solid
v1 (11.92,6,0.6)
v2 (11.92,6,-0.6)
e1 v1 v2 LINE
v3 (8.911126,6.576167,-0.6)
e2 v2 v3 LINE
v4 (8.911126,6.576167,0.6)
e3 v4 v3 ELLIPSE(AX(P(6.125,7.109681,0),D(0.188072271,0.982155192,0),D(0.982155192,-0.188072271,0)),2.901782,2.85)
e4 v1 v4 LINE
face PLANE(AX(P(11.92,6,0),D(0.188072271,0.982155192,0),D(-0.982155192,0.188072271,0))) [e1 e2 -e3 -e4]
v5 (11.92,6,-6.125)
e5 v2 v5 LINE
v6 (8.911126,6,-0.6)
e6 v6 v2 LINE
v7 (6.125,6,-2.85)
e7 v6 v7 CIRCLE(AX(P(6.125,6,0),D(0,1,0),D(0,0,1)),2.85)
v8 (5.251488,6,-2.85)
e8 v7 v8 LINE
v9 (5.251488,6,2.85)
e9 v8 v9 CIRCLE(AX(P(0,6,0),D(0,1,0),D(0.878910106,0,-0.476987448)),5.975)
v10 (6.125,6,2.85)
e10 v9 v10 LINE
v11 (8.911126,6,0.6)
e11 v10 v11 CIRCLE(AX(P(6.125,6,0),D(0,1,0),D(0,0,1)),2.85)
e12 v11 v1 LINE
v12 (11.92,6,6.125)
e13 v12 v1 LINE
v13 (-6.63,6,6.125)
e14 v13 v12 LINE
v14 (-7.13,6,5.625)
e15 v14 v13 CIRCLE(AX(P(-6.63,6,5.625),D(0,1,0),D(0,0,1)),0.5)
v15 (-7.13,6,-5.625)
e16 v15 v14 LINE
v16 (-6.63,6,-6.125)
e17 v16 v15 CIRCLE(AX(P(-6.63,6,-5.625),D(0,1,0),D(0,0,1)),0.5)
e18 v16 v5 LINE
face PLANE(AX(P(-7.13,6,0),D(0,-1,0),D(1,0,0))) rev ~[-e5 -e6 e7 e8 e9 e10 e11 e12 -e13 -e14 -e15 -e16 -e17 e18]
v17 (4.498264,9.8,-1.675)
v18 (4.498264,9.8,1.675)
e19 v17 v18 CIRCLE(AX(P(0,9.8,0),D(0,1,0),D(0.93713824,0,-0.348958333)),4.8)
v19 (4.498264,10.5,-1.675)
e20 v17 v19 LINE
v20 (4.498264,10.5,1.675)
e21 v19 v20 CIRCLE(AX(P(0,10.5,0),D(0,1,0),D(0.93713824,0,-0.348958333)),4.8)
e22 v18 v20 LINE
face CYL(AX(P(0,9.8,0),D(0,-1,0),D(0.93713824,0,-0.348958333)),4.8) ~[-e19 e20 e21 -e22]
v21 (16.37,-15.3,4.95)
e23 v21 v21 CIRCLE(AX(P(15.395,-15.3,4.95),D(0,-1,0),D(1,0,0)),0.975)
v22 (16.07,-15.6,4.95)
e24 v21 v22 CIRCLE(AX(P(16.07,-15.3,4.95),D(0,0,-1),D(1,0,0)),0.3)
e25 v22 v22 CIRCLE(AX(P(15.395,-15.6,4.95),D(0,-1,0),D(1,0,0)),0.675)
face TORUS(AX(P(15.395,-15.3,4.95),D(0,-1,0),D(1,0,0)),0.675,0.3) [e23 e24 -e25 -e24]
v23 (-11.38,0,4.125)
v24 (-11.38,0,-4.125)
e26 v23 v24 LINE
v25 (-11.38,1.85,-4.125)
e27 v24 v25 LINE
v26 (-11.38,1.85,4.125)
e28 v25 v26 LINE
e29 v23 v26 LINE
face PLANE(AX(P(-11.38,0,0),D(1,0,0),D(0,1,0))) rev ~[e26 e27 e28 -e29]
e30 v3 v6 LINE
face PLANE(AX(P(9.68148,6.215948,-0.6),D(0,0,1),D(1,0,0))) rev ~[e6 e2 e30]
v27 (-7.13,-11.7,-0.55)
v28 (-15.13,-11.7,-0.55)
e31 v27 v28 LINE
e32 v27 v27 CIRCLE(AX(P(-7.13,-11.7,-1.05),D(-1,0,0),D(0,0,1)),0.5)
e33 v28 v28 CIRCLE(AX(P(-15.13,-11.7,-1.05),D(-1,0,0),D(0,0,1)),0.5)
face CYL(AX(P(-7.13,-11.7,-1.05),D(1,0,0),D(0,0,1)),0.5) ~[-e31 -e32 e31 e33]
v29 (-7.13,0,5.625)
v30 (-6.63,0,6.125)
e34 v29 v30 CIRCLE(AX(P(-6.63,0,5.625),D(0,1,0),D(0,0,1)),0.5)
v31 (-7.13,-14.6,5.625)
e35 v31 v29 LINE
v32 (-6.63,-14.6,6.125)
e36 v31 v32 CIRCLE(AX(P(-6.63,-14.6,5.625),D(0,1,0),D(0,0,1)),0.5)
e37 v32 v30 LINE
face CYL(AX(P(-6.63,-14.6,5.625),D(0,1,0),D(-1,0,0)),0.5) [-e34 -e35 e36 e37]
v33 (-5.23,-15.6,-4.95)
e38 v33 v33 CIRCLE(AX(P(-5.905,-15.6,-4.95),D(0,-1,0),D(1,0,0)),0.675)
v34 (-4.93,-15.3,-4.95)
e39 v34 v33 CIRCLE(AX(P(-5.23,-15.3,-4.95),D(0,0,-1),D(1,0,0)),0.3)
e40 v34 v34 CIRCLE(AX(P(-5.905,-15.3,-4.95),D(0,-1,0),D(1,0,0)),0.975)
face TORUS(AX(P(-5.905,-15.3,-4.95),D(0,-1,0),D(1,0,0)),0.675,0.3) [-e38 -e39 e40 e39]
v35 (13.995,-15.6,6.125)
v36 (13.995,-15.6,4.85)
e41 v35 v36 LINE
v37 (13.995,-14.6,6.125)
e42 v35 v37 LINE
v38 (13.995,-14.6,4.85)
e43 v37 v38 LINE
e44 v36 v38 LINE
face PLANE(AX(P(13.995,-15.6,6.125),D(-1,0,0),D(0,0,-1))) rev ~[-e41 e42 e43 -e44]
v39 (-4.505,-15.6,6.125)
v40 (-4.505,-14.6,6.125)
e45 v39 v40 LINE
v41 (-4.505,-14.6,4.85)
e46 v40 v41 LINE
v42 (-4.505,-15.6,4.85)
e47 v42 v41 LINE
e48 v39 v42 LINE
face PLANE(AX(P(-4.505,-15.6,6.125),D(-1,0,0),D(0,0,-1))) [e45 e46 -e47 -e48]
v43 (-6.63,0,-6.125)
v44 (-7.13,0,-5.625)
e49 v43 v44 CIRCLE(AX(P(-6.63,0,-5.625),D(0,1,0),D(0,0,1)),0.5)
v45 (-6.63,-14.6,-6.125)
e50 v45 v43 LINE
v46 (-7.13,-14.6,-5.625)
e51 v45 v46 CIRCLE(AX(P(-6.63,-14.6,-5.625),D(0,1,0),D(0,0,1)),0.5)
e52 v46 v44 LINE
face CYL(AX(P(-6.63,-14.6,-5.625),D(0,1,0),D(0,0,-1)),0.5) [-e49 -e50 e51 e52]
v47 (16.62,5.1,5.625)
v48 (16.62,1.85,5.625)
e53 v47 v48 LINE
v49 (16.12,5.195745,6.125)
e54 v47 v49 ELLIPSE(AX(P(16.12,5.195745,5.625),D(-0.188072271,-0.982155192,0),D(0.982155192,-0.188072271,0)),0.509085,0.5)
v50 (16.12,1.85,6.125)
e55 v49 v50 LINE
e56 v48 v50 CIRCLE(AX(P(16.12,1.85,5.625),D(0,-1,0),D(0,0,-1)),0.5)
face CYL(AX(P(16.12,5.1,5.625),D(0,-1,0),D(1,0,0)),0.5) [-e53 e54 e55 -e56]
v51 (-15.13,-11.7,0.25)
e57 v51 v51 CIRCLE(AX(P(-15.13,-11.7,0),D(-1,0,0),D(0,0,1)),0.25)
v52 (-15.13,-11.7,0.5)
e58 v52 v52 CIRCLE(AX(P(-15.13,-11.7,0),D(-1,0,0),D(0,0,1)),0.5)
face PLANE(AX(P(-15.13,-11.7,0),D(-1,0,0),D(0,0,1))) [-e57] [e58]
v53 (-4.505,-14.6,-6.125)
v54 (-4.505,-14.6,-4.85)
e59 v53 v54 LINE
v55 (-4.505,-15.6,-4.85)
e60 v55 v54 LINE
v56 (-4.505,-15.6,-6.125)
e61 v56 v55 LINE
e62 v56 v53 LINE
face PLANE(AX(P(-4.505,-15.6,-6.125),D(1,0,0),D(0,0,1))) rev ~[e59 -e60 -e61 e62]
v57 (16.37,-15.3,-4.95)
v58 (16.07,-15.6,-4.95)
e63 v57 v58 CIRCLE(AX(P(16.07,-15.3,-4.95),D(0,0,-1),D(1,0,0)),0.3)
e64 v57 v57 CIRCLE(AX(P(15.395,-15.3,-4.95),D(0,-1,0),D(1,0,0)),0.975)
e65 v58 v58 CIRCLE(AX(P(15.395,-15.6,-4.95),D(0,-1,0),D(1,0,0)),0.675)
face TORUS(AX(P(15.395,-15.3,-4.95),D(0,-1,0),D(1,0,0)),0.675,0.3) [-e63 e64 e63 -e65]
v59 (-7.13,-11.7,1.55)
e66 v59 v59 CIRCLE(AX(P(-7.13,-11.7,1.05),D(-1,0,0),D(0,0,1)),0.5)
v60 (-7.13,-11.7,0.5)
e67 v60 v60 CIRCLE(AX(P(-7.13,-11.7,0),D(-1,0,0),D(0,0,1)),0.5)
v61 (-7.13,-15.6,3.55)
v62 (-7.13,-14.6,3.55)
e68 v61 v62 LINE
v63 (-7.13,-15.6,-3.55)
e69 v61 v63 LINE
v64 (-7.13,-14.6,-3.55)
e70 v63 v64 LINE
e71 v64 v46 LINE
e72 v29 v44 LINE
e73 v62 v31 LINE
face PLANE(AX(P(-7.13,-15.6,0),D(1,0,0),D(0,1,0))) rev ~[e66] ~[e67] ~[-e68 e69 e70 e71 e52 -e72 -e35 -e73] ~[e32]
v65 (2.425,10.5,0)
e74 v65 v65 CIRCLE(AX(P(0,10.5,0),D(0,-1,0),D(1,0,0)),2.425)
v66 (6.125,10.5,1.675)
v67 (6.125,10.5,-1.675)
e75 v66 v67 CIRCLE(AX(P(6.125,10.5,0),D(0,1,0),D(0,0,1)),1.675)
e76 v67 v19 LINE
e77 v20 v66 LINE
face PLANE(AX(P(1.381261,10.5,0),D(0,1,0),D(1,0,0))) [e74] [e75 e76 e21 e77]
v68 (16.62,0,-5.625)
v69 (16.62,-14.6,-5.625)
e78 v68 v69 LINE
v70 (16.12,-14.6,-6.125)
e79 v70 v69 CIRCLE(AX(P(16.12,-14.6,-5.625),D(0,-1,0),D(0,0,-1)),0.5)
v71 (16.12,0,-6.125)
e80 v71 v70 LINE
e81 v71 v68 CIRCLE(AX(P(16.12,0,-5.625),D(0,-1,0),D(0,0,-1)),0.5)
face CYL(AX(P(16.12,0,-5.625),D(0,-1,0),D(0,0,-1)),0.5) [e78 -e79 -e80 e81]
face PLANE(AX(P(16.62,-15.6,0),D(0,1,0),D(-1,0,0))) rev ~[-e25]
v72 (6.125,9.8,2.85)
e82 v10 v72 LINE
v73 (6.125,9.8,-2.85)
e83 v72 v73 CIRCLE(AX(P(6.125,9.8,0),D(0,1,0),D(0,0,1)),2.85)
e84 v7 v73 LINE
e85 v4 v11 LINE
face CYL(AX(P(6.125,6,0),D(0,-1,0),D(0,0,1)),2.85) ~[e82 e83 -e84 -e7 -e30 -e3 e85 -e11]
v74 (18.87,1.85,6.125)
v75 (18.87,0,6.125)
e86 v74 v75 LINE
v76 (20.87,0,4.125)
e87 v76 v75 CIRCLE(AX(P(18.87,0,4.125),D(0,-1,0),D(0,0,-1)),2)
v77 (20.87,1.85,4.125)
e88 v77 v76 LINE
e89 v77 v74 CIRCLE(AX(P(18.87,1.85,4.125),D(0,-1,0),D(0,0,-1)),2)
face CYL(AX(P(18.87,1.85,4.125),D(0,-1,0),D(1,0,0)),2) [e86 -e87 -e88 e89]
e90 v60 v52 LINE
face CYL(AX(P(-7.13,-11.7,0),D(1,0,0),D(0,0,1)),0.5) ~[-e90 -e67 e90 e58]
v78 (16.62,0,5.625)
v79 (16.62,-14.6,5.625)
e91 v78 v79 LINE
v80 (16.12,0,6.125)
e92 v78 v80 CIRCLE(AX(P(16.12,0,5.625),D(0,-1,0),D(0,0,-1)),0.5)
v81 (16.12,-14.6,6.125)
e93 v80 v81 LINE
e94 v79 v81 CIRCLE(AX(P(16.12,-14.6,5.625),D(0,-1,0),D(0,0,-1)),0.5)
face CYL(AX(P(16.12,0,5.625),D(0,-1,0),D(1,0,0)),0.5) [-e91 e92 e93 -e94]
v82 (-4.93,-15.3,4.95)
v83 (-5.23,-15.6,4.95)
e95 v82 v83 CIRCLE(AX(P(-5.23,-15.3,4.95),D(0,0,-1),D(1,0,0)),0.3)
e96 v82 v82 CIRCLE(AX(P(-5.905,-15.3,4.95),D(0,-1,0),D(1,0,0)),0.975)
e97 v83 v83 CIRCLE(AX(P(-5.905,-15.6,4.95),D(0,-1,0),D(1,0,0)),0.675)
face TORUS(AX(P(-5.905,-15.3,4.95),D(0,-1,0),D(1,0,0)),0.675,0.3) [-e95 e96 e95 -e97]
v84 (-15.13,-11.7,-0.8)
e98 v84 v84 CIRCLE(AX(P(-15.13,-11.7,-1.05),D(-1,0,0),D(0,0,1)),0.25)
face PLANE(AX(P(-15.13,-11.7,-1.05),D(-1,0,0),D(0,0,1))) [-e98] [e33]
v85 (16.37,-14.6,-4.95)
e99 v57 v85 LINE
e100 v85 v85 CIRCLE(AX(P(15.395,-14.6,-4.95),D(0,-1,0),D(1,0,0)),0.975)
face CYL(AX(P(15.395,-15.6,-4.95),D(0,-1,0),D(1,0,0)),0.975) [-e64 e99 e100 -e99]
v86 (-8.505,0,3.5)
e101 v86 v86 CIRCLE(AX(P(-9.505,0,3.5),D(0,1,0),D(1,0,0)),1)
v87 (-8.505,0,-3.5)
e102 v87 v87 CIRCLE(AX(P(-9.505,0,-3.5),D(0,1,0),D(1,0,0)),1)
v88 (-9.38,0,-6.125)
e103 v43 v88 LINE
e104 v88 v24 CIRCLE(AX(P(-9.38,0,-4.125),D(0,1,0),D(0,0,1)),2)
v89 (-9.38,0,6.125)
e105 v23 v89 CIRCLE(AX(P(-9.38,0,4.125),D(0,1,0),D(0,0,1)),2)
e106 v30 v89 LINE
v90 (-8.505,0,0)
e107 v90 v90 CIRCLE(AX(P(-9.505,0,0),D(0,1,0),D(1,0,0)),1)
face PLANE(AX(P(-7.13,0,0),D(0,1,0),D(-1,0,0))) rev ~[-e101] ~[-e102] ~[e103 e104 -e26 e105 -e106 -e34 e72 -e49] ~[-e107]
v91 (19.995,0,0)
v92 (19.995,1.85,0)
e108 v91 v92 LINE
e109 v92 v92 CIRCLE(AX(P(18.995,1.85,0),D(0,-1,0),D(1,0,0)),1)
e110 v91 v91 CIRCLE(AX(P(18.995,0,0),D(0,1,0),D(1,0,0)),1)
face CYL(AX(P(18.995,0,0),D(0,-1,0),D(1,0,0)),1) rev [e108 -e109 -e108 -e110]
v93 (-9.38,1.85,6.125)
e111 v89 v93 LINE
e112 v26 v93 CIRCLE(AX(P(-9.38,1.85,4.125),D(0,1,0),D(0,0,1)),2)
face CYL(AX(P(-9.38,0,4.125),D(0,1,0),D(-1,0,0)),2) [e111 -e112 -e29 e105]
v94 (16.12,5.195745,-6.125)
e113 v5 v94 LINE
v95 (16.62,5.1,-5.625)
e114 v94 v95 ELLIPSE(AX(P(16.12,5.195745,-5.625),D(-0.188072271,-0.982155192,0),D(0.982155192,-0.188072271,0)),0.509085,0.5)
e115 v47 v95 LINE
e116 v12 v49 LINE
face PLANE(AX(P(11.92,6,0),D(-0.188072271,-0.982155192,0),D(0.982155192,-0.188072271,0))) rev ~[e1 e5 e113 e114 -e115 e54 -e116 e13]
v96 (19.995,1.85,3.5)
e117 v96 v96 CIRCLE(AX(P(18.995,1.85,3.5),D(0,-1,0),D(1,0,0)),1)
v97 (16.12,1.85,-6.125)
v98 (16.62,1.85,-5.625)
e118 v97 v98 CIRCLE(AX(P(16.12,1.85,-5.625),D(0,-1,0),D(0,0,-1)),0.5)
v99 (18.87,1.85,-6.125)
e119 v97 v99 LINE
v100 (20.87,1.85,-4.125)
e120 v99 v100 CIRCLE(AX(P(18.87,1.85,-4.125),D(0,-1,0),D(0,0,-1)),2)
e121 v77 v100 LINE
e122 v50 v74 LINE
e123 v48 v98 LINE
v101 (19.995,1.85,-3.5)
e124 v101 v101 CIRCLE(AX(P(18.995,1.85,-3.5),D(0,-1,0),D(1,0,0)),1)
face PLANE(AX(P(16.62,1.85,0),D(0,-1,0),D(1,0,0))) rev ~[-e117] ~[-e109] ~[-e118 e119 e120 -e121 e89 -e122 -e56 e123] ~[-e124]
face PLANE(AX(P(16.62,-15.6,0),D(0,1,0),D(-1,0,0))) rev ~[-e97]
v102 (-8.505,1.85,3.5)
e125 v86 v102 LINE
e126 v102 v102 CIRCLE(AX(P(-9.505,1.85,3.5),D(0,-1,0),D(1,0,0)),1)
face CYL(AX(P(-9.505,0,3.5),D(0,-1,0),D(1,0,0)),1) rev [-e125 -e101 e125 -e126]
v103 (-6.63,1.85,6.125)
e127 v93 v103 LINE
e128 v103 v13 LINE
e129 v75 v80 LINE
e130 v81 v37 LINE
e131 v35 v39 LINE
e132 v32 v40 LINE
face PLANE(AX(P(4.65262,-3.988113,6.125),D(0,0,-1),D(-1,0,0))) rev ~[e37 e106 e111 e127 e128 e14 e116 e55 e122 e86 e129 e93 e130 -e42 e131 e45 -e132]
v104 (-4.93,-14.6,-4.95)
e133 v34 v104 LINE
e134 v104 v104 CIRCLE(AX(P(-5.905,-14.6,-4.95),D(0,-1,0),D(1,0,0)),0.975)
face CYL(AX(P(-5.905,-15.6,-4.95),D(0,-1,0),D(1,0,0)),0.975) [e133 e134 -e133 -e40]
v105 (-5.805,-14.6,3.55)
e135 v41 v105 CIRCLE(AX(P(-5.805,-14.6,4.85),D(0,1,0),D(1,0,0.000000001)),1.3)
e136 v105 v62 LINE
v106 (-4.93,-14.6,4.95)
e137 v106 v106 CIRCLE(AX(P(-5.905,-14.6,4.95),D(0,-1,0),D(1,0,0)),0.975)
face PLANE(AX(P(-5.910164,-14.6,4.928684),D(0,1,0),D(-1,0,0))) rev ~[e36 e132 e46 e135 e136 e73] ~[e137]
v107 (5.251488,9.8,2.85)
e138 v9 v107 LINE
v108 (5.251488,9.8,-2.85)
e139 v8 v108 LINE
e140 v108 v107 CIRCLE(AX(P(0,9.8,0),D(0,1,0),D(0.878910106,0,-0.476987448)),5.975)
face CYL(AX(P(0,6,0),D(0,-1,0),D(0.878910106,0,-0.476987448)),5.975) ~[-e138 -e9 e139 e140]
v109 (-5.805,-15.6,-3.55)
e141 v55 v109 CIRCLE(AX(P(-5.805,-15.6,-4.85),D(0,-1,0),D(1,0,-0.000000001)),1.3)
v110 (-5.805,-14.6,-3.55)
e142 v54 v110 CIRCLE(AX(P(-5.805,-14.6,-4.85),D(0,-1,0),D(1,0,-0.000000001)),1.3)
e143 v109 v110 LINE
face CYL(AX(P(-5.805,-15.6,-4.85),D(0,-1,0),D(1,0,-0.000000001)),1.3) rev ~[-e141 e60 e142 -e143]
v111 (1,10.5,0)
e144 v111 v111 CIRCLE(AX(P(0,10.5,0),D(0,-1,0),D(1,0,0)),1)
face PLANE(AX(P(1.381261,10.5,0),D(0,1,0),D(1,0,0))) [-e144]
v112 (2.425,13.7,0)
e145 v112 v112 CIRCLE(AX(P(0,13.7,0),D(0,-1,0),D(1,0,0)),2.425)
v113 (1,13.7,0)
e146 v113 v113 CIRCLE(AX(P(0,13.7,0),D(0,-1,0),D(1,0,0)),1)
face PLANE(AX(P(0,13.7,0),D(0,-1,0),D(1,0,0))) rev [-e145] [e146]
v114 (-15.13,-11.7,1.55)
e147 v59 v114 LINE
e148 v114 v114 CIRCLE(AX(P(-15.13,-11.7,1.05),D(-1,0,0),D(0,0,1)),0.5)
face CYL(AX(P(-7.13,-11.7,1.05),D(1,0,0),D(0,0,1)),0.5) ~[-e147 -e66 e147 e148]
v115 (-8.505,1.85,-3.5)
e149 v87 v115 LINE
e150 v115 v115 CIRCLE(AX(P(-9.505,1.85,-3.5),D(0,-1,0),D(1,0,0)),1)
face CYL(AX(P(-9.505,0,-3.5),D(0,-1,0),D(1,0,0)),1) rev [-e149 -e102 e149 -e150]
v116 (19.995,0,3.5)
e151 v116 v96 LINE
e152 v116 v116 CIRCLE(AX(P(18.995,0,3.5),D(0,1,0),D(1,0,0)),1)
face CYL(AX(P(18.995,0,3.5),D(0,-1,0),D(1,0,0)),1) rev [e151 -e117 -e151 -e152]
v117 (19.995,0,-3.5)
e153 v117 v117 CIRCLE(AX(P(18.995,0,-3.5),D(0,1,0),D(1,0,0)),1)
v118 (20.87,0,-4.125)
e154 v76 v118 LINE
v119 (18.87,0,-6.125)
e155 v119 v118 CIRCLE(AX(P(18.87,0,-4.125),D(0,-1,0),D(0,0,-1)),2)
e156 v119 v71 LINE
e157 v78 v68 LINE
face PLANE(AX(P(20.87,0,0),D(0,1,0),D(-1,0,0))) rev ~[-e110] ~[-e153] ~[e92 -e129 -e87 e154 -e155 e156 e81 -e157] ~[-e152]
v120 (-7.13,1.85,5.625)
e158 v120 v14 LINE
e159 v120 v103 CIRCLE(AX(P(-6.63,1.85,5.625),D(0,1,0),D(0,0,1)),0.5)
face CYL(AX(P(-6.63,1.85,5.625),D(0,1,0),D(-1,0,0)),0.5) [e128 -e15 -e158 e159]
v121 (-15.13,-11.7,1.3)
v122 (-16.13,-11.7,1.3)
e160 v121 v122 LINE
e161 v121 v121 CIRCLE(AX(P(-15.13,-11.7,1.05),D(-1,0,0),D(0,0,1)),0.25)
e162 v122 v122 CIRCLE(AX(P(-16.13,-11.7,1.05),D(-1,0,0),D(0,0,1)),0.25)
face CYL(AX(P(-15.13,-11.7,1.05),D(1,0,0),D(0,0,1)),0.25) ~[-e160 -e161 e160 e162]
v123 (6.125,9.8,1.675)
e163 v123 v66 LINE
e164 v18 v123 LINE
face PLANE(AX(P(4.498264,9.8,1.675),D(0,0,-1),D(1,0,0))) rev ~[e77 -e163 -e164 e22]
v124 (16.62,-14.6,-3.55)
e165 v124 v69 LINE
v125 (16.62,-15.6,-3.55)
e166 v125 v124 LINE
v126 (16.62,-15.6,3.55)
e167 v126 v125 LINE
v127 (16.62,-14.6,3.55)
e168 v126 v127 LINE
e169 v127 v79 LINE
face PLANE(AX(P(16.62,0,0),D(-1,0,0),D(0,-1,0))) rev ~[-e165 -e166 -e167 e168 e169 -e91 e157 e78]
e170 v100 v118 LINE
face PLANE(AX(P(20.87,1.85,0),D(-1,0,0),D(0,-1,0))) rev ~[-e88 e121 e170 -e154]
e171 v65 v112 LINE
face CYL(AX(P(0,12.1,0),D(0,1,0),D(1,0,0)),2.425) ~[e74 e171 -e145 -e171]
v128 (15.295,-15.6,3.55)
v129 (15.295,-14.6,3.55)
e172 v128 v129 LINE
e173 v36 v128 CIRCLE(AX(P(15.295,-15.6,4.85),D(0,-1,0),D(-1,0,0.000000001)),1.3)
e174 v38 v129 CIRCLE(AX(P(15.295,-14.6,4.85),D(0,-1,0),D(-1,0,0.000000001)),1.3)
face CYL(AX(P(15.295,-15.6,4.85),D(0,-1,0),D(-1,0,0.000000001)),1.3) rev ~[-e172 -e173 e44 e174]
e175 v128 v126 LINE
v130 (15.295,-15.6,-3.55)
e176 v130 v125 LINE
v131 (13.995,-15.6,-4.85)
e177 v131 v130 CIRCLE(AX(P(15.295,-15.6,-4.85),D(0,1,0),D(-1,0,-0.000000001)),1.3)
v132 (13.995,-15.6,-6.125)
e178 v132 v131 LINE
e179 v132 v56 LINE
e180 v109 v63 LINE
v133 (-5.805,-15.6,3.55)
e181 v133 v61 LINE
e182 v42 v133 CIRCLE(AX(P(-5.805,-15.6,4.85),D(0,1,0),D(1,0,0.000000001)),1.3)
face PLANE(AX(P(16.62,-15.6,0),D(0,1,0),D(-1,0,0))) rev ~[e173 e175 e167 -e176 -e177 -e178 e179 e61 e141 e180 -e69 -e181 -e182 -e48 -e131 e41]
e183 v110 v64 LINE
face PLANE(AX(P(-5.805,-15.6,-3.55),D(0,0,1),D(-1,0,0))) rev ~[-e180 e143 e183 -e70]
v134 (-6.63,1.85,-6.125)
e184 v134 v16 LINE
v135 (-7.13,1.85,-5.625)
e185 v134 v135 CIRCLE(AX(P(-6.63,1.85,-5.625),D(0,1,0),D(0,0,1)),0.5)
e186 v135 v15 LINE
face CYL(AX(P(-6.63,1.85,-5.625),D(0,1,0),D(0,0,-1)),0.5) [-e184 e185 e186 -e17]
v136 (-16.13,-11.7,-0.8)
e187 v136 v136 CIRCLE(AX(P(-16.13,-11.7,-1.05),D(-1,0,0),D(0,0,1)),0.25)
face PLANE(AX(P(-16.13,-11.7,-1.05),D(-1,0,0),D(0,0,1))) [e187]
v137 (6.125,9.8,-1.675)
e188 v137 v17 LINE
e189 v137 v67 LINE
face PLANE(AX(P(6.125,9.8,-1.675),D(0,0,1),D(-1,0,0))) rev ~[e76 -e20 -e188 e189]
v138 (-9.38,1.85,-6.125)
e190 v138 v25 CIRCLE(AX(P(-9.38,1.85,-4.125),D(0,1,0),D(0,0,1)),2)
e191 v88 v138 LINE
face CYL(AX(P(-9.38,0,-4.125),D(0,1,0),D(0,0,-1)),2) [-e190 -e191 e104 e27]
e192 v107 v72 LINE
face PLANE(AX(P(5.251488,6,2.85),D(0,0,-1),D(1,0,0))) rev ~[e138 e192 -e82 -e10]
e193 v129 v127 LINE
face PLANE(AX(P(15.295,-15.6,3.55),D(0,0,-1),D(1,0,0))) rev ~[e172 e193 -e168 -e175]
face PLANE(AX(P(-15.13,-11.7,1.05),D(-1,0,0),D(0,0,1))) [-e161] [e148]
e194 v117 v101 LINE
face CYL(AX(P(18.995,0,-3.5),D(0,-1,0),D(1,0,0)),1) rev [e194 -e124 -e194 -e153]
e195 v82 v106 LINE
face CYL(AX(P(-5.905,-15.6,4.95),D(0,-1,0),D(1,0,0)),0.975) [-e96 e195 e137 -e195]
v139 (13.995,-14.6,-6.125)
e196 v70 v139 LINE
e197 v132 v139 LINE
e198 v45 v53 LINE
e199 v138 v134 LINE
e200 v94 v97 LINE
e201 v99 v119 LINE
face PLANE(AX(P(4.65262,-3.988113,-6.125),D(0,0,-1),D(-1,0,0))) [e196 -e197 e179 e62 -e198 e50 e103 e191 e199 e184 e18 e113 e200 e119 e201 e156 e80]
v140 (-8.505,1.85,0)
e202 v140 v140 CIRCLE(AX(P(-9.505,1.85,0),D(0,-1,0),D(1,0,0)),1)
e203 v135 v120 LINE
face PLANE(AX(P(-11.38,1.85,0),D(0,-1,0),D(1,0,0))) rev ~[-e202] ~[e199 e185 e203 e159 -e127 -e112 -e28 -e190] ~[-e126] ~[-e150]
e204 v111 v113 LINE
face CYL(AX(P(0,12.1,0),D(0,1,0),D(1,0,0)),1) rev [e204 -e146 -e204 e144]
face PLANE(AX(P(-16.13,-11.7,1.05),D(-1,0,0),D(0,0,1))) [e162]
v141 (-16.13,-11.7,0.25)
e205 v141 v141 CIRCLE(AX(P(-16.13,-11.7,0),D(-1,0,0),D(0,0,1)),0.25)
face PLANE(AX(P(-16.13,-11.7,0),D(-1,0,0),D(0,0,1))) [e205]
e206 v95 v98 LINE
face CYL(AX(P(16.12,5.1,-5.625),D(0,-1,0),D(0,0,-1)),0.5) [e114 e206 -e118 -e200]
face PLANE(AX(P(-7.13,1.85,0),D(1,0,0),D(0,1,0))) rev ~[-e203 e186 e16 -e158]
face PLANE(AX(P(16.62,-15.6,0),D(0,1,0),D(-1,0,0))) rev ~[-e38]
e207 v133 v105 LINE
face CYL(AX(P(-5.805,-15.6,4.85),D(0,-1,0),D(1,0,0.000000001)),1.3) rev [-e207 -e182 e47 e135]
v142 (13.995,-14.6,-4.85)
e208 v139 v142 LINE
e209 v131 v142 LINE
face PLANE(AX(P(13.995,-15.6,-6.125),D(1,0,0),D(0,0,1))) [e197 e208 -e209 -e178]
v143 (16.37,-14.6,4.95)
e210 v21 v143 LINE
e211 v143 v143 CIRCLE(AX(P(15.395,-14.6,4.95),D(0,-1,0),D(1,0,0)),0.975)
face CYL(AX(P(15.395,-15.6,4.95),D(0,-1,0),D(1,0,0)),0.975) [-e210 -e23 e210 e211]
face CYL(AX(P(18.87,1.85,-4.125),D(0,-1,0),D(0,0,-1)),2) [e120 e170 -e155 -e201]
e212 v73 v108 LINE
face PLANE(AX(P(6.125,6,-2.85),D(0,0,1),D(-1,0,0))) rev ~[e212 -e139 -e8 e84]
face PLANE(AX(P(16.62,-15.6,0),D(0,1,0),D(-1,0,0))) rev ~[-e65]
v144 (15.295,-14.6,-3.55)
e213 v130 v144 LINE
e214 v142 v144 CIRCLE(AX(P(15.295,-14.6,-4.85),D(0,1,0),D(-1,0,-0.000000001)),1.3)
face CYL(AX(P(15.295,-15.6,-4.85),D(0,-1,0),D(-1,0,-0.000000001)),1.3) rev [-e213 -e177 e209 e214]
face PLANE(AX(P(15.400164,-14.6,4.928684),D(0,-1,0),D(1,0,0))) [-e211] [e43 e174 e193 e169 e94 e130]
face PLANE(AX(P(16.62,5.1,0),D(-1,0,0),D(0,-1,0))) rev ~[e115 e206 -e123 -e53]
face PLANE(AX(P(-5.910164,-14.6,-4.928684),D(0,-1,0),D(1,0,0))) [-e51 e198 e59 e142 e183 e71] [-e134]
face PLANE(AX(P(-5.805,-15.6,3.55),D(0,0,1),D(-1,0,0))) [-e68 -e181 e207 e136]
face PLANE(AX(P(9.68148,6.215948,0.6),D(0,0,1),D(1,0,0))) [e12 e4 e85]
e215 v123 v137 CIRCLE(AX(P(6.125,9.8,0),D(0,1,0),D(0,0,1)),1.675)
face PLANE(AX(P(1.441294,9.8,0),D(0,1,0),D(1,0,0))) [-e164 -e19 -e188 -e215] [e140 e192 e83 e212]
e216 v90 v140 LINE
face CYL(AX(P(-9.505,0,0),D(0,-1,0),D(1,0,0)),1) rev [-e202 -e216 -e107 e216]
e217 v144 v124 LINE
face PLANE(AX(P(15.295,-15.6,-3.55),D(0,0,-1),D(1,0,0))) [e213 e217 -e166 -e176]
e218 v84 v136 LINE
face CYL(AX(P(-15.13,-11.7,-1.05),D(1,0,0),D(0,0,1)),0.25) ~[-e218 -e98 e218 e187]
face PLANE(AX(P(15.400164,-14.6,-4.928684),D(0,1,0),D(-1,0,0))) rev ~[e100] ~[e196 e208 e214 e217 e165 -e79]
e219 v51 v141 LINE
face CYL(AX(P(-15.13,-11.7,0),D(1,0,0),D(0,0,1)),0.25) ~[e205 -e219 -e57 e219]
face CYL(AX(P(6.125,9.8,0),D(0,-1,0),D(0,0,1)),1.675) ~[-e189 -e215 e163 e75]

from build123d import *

# Parameters (mm, degrees)
BOSS_EXTRUDE1_DEPTH = 6.125
BOSS_EXTRUDE2_DEPTH = 3.8
BOSS_EXTRUDE3_DEPTH = 0.7
SKETCH4_R           = 1
CUT_EXTRUDE1_DEPTH  = 27.766257209
SKETCH5_R           = 0.975
CUT_EXTRUDE2_DEPTH  = 1
SKETCH6_R           = 0.5
BOSS_EXTRUDE4_DEPTH = 8
SKETCH7_R           = 0.25
BOSS_EXTRUDE5_DEPTH = 1
BOSS_EXTRUDE6_DEPTH = 0.6
SKETCH9_W           = 1.425
SKETCH9_H           = 3.2
FILLET1_R           = 0.3
FILLET2_R           = 2
FILLET3_R           = 0.5


with BuildPart() as part:
    # Sketch1 → Boss-Extrude1 (new, symmetric)
    with BuildSketch(Plane.XY):
        Polygon((-7.13, 6), (11.92, 6), (16.62, 5.1), (16.62, 1.85), (20.87, 1.85), (20.87, 0), (16.62, 0), (16.62, -15.6), (-7.13, -15.6), (-7.13, 0), (-11.38, 0), (-11.38, 1.85), (-7.13, 1.85), align=None)
    extrude(amount=BOSS_EXTRUDE1_DEPTH, both=True)

    # Sketch2 → Boss-Extrude2 (add)
    with BuildSketch(Plane(origin=(0, 6, 0), x_dir=(1, 0, 0), z_dir=(0, 1, 0))):
        with BuildLine():
            Line((5.251487884, -2.85), (6.125, -2.85))
            ThreePointArc((6.125, -2.85), (8.975, 0), (6.125, 2.85))
            Line((6.125, 2.85), (5.251487884, 2.85))
            ThreePointArc((5.251487884, 2.85), (-5.975, 0), (5.251487884, -2.85))
        make_face()
    extrude(amount=BOSS_EXTRUDE2_DEPTH)

    # Sketch3 → Boss-Extrude3 (add)
    with BuildSketch(Plane(origin=(0, 9.8, 0), x_dir=(1, 0, 0), z_dir=(0, 1, 0))):
        with BuildLine():
            Line((4.498263554, -1.675), (6.125, -1.675))
            ThreePointArc((6.125, -1.675), (7.8, 0), (6.125, 1.675))
            Line((6.125, 1.675), (4.498263554, 1.675))
            ThreePointArc((4.498263554, 1.675), (-4.8, 0), (4.498263554, -1.675))
        make_face()
    extrude(amount=BOSS_EXTRUDE3_DEPTH)

    # Sketch4 → Cut-Extrude1 (cut, through all)
    with BuildSketch(Plane(origin=(0, 0, 0), x_dir=(1, 0, 0), z_dir=(0, 1, 0))):
        with Locations((-9.505, 3.5)):
            Circle(SKETCH4_R)
        with Locations((-9.505, -3.5)):
            Circle(SKETCH4_R)
        with Locations((18.995, 3.5)):
            Circle(SKETCH4_R)
        with Locations((18.995, -3.5)):
            Circle(SKETCH4_R)
        with Locations((18.995, 0)):
            Circle(SKETCH4_R)
        with Locations((-9.505, 0)):
            Circle(SKETCH4_R)
    extrude(amount=CUT_EXTRUDE1_DEPTH, mode=Mode.SUBTRACT)

    # Sketch5 → Cut-Extrude2 (cut)
    # profile 1 of 4: a face of its own
    with BuildSketch(Plane.XZ.offset(15.6)):
        with BuildLine():
            Line((16.62, 6.125), (13.995, 6.125))
            Line((13.995, 6.125), (13.995, 4.85))
            ThreePointArc((13.995, 4.85), (14.375761184, 3.930761184), (15.295, 3.55))
            Line((15.295, 3.55), (16.62, 3.55))
            Line((16.62, 3.55), (16.62, 6.125))
        make_face()
        with Locations((15.395, 4.95)):
            Circle(SKETCH5_R, mode=Mode.SUBTRACT)
    # profile 2 of 4: a face of its own
    with BuildSketch(Plane.XZ.offset(15.6)):
        with BuildLine():
            Line((16.62, -6.125), (13.995, -6.125))
            Line((13.995, -6.125), (13.995, -4.85))
            ThreePointArc((13.995, -4.85), (14.375761184, -3.930761184), (15.295, -3.55))
            Line((15.295, -3.55), (16.62, -3.55))
            Line((16.62, -3.55), (16.62, -6.125))
        make_face()
        with Locations((15.395, -4.95)):
            Circle(SKETCH5_R, mode=Mode.SUBTRACT)
    # profile 3 of 4: a face of its own
    with BuildSketch(Plane.XZ.offset(15.6)):
        with BuildLine():
            Line((-7.13, 6.125), (-4.505, 6.125))
            Line((-4.505, 6.125), (-4.505, 4.85))
            ThreePointArc((-4.505, 4.85), (-4.885761184, 3.930761184), (-5.805, 3.55))
            Line((-5.805, 3.55), (-7.13, 3.55))
            Line((-7.13, 3.55), (-7.13, 6.125))
        make_face()
        with Locations((-5.905, 4.95)):
            Circle(SKETCH5_R, mode=Mode.SUBTRACT)
    # profile 4 of 4: a face of its own
    with BuildSketch(Plane.XZ.offset(15.6)):
        with BuildLine():
            Line((-7.13, -6.125), (-4.505, -6.125))
            Line((-4.505, -6.125), (-4.505, -4.85))
            ThreePointArc((-4.505, -4.85), (-4.885761184, -3.930761184), (-5.805, -3.55))
            Line((-5.805, -3.55), (-7.13, -3.55))
            Line((-7.13, -3.55), (-7.13, -6.125))
        make_face()
        with Locations((-5.905, -4.95)):
            Circle(SKETCH5_R, mode=Mode.SUBTRACT)
    extrude(amount=-CUT_EXTRUDE2_DEPTH, mode=Mode.SUBTRACT)

    # Sketch6 → Boss-Extrude4 (add)
    with BuildSketch(Plane.ZY.offset(7.13)):
        with Locations((0, -11.7)):
            Circle(SKETCH6_R)
        with Locations((1.05, -11.7)):
            Circle(SKETCH6_R)
        with Locations((-1.05, -11.7)):
            Circle(SKETCH6_R)
    extrude(amount=BOSS_EXTRUDE4_DEPTH)

    # Sketch7 → Boss-Extrude5 (add)
    with BuildSketch(Plane.ZY.offset(15.13)):
        with Locations((0, -11.7)):
            Circle(SKETCH7_R)
        with Locations((1.05, -11.7)):
            Circle(SKETCH7_R)
        with Locations((-1.05, -11.7)):
            Circle(SKETCH7_R)
    extrude(amount=BOSS_EXTRUDE5_DEPTH)

    # Sketch8 → Boss-Extrude6 (add, symmetric)
    with BuildSketch(Plane.XY):
        Polygon((11.92, 6), (7.8, 6.78893617), (7.8, 6), align=None)
    extrude(amount=BOSS_EXTRUDE6_DEPTH, both=True)

    # Sketch9 → Revolve1 (revolve)
    with BuildSketch(Plane.XY):
        with Locations((1.7125, 12.1)):
            Rectangle(SKETCH9_W, SKETCH9_H)
    revolve(axis=Axis((0, 55, 0), (0, -1, 0)))

    # Fillet1
    fillet1_edges = [part.edges().sort_by_distance(p)[0] for p in [
        (14.42, -15.6, -4.95),
        (14.42, -15.6, 4.95),
        (-6.88, -15.6, -4.95),
        (-6.88, -15.6, 4.95),
    ]]
    fillet(fillet1_edges, radius=FILLET1_R)

    # Fillet2
    fillet2_edges = [part.edges().sort_by_distance(p)[0] for p in [
        (20.87, 0.925, -6.125),
        (20.87, 0.925, 6.125),
        (-11.38, 0.925, 6.125),
        (-11.38, 0.925, -6.125),
    ]]
    fillet(fillet2_edges, radius=FILLET2_R)

    # Fillet3
    fillet3_edges = [part.edges().sort_by_distance(p)[0] for p in [
        (16.62, -7.3, -6.125),
        (16.62, 3.475, -6.125),
        (16.62, 3.475, 6.125),
        (16.62, -7.3, 6.125),
        (-7.13, -7.3, -6.125),
        (-7.13, 3.925, -6.125),
        (-7.13, 3.925, 6.125),
        (-7.13, -7.3, 6.125),
    ]]
    fillet(fillet3_edges, radius=FILLET3_R)


solid = part.part
